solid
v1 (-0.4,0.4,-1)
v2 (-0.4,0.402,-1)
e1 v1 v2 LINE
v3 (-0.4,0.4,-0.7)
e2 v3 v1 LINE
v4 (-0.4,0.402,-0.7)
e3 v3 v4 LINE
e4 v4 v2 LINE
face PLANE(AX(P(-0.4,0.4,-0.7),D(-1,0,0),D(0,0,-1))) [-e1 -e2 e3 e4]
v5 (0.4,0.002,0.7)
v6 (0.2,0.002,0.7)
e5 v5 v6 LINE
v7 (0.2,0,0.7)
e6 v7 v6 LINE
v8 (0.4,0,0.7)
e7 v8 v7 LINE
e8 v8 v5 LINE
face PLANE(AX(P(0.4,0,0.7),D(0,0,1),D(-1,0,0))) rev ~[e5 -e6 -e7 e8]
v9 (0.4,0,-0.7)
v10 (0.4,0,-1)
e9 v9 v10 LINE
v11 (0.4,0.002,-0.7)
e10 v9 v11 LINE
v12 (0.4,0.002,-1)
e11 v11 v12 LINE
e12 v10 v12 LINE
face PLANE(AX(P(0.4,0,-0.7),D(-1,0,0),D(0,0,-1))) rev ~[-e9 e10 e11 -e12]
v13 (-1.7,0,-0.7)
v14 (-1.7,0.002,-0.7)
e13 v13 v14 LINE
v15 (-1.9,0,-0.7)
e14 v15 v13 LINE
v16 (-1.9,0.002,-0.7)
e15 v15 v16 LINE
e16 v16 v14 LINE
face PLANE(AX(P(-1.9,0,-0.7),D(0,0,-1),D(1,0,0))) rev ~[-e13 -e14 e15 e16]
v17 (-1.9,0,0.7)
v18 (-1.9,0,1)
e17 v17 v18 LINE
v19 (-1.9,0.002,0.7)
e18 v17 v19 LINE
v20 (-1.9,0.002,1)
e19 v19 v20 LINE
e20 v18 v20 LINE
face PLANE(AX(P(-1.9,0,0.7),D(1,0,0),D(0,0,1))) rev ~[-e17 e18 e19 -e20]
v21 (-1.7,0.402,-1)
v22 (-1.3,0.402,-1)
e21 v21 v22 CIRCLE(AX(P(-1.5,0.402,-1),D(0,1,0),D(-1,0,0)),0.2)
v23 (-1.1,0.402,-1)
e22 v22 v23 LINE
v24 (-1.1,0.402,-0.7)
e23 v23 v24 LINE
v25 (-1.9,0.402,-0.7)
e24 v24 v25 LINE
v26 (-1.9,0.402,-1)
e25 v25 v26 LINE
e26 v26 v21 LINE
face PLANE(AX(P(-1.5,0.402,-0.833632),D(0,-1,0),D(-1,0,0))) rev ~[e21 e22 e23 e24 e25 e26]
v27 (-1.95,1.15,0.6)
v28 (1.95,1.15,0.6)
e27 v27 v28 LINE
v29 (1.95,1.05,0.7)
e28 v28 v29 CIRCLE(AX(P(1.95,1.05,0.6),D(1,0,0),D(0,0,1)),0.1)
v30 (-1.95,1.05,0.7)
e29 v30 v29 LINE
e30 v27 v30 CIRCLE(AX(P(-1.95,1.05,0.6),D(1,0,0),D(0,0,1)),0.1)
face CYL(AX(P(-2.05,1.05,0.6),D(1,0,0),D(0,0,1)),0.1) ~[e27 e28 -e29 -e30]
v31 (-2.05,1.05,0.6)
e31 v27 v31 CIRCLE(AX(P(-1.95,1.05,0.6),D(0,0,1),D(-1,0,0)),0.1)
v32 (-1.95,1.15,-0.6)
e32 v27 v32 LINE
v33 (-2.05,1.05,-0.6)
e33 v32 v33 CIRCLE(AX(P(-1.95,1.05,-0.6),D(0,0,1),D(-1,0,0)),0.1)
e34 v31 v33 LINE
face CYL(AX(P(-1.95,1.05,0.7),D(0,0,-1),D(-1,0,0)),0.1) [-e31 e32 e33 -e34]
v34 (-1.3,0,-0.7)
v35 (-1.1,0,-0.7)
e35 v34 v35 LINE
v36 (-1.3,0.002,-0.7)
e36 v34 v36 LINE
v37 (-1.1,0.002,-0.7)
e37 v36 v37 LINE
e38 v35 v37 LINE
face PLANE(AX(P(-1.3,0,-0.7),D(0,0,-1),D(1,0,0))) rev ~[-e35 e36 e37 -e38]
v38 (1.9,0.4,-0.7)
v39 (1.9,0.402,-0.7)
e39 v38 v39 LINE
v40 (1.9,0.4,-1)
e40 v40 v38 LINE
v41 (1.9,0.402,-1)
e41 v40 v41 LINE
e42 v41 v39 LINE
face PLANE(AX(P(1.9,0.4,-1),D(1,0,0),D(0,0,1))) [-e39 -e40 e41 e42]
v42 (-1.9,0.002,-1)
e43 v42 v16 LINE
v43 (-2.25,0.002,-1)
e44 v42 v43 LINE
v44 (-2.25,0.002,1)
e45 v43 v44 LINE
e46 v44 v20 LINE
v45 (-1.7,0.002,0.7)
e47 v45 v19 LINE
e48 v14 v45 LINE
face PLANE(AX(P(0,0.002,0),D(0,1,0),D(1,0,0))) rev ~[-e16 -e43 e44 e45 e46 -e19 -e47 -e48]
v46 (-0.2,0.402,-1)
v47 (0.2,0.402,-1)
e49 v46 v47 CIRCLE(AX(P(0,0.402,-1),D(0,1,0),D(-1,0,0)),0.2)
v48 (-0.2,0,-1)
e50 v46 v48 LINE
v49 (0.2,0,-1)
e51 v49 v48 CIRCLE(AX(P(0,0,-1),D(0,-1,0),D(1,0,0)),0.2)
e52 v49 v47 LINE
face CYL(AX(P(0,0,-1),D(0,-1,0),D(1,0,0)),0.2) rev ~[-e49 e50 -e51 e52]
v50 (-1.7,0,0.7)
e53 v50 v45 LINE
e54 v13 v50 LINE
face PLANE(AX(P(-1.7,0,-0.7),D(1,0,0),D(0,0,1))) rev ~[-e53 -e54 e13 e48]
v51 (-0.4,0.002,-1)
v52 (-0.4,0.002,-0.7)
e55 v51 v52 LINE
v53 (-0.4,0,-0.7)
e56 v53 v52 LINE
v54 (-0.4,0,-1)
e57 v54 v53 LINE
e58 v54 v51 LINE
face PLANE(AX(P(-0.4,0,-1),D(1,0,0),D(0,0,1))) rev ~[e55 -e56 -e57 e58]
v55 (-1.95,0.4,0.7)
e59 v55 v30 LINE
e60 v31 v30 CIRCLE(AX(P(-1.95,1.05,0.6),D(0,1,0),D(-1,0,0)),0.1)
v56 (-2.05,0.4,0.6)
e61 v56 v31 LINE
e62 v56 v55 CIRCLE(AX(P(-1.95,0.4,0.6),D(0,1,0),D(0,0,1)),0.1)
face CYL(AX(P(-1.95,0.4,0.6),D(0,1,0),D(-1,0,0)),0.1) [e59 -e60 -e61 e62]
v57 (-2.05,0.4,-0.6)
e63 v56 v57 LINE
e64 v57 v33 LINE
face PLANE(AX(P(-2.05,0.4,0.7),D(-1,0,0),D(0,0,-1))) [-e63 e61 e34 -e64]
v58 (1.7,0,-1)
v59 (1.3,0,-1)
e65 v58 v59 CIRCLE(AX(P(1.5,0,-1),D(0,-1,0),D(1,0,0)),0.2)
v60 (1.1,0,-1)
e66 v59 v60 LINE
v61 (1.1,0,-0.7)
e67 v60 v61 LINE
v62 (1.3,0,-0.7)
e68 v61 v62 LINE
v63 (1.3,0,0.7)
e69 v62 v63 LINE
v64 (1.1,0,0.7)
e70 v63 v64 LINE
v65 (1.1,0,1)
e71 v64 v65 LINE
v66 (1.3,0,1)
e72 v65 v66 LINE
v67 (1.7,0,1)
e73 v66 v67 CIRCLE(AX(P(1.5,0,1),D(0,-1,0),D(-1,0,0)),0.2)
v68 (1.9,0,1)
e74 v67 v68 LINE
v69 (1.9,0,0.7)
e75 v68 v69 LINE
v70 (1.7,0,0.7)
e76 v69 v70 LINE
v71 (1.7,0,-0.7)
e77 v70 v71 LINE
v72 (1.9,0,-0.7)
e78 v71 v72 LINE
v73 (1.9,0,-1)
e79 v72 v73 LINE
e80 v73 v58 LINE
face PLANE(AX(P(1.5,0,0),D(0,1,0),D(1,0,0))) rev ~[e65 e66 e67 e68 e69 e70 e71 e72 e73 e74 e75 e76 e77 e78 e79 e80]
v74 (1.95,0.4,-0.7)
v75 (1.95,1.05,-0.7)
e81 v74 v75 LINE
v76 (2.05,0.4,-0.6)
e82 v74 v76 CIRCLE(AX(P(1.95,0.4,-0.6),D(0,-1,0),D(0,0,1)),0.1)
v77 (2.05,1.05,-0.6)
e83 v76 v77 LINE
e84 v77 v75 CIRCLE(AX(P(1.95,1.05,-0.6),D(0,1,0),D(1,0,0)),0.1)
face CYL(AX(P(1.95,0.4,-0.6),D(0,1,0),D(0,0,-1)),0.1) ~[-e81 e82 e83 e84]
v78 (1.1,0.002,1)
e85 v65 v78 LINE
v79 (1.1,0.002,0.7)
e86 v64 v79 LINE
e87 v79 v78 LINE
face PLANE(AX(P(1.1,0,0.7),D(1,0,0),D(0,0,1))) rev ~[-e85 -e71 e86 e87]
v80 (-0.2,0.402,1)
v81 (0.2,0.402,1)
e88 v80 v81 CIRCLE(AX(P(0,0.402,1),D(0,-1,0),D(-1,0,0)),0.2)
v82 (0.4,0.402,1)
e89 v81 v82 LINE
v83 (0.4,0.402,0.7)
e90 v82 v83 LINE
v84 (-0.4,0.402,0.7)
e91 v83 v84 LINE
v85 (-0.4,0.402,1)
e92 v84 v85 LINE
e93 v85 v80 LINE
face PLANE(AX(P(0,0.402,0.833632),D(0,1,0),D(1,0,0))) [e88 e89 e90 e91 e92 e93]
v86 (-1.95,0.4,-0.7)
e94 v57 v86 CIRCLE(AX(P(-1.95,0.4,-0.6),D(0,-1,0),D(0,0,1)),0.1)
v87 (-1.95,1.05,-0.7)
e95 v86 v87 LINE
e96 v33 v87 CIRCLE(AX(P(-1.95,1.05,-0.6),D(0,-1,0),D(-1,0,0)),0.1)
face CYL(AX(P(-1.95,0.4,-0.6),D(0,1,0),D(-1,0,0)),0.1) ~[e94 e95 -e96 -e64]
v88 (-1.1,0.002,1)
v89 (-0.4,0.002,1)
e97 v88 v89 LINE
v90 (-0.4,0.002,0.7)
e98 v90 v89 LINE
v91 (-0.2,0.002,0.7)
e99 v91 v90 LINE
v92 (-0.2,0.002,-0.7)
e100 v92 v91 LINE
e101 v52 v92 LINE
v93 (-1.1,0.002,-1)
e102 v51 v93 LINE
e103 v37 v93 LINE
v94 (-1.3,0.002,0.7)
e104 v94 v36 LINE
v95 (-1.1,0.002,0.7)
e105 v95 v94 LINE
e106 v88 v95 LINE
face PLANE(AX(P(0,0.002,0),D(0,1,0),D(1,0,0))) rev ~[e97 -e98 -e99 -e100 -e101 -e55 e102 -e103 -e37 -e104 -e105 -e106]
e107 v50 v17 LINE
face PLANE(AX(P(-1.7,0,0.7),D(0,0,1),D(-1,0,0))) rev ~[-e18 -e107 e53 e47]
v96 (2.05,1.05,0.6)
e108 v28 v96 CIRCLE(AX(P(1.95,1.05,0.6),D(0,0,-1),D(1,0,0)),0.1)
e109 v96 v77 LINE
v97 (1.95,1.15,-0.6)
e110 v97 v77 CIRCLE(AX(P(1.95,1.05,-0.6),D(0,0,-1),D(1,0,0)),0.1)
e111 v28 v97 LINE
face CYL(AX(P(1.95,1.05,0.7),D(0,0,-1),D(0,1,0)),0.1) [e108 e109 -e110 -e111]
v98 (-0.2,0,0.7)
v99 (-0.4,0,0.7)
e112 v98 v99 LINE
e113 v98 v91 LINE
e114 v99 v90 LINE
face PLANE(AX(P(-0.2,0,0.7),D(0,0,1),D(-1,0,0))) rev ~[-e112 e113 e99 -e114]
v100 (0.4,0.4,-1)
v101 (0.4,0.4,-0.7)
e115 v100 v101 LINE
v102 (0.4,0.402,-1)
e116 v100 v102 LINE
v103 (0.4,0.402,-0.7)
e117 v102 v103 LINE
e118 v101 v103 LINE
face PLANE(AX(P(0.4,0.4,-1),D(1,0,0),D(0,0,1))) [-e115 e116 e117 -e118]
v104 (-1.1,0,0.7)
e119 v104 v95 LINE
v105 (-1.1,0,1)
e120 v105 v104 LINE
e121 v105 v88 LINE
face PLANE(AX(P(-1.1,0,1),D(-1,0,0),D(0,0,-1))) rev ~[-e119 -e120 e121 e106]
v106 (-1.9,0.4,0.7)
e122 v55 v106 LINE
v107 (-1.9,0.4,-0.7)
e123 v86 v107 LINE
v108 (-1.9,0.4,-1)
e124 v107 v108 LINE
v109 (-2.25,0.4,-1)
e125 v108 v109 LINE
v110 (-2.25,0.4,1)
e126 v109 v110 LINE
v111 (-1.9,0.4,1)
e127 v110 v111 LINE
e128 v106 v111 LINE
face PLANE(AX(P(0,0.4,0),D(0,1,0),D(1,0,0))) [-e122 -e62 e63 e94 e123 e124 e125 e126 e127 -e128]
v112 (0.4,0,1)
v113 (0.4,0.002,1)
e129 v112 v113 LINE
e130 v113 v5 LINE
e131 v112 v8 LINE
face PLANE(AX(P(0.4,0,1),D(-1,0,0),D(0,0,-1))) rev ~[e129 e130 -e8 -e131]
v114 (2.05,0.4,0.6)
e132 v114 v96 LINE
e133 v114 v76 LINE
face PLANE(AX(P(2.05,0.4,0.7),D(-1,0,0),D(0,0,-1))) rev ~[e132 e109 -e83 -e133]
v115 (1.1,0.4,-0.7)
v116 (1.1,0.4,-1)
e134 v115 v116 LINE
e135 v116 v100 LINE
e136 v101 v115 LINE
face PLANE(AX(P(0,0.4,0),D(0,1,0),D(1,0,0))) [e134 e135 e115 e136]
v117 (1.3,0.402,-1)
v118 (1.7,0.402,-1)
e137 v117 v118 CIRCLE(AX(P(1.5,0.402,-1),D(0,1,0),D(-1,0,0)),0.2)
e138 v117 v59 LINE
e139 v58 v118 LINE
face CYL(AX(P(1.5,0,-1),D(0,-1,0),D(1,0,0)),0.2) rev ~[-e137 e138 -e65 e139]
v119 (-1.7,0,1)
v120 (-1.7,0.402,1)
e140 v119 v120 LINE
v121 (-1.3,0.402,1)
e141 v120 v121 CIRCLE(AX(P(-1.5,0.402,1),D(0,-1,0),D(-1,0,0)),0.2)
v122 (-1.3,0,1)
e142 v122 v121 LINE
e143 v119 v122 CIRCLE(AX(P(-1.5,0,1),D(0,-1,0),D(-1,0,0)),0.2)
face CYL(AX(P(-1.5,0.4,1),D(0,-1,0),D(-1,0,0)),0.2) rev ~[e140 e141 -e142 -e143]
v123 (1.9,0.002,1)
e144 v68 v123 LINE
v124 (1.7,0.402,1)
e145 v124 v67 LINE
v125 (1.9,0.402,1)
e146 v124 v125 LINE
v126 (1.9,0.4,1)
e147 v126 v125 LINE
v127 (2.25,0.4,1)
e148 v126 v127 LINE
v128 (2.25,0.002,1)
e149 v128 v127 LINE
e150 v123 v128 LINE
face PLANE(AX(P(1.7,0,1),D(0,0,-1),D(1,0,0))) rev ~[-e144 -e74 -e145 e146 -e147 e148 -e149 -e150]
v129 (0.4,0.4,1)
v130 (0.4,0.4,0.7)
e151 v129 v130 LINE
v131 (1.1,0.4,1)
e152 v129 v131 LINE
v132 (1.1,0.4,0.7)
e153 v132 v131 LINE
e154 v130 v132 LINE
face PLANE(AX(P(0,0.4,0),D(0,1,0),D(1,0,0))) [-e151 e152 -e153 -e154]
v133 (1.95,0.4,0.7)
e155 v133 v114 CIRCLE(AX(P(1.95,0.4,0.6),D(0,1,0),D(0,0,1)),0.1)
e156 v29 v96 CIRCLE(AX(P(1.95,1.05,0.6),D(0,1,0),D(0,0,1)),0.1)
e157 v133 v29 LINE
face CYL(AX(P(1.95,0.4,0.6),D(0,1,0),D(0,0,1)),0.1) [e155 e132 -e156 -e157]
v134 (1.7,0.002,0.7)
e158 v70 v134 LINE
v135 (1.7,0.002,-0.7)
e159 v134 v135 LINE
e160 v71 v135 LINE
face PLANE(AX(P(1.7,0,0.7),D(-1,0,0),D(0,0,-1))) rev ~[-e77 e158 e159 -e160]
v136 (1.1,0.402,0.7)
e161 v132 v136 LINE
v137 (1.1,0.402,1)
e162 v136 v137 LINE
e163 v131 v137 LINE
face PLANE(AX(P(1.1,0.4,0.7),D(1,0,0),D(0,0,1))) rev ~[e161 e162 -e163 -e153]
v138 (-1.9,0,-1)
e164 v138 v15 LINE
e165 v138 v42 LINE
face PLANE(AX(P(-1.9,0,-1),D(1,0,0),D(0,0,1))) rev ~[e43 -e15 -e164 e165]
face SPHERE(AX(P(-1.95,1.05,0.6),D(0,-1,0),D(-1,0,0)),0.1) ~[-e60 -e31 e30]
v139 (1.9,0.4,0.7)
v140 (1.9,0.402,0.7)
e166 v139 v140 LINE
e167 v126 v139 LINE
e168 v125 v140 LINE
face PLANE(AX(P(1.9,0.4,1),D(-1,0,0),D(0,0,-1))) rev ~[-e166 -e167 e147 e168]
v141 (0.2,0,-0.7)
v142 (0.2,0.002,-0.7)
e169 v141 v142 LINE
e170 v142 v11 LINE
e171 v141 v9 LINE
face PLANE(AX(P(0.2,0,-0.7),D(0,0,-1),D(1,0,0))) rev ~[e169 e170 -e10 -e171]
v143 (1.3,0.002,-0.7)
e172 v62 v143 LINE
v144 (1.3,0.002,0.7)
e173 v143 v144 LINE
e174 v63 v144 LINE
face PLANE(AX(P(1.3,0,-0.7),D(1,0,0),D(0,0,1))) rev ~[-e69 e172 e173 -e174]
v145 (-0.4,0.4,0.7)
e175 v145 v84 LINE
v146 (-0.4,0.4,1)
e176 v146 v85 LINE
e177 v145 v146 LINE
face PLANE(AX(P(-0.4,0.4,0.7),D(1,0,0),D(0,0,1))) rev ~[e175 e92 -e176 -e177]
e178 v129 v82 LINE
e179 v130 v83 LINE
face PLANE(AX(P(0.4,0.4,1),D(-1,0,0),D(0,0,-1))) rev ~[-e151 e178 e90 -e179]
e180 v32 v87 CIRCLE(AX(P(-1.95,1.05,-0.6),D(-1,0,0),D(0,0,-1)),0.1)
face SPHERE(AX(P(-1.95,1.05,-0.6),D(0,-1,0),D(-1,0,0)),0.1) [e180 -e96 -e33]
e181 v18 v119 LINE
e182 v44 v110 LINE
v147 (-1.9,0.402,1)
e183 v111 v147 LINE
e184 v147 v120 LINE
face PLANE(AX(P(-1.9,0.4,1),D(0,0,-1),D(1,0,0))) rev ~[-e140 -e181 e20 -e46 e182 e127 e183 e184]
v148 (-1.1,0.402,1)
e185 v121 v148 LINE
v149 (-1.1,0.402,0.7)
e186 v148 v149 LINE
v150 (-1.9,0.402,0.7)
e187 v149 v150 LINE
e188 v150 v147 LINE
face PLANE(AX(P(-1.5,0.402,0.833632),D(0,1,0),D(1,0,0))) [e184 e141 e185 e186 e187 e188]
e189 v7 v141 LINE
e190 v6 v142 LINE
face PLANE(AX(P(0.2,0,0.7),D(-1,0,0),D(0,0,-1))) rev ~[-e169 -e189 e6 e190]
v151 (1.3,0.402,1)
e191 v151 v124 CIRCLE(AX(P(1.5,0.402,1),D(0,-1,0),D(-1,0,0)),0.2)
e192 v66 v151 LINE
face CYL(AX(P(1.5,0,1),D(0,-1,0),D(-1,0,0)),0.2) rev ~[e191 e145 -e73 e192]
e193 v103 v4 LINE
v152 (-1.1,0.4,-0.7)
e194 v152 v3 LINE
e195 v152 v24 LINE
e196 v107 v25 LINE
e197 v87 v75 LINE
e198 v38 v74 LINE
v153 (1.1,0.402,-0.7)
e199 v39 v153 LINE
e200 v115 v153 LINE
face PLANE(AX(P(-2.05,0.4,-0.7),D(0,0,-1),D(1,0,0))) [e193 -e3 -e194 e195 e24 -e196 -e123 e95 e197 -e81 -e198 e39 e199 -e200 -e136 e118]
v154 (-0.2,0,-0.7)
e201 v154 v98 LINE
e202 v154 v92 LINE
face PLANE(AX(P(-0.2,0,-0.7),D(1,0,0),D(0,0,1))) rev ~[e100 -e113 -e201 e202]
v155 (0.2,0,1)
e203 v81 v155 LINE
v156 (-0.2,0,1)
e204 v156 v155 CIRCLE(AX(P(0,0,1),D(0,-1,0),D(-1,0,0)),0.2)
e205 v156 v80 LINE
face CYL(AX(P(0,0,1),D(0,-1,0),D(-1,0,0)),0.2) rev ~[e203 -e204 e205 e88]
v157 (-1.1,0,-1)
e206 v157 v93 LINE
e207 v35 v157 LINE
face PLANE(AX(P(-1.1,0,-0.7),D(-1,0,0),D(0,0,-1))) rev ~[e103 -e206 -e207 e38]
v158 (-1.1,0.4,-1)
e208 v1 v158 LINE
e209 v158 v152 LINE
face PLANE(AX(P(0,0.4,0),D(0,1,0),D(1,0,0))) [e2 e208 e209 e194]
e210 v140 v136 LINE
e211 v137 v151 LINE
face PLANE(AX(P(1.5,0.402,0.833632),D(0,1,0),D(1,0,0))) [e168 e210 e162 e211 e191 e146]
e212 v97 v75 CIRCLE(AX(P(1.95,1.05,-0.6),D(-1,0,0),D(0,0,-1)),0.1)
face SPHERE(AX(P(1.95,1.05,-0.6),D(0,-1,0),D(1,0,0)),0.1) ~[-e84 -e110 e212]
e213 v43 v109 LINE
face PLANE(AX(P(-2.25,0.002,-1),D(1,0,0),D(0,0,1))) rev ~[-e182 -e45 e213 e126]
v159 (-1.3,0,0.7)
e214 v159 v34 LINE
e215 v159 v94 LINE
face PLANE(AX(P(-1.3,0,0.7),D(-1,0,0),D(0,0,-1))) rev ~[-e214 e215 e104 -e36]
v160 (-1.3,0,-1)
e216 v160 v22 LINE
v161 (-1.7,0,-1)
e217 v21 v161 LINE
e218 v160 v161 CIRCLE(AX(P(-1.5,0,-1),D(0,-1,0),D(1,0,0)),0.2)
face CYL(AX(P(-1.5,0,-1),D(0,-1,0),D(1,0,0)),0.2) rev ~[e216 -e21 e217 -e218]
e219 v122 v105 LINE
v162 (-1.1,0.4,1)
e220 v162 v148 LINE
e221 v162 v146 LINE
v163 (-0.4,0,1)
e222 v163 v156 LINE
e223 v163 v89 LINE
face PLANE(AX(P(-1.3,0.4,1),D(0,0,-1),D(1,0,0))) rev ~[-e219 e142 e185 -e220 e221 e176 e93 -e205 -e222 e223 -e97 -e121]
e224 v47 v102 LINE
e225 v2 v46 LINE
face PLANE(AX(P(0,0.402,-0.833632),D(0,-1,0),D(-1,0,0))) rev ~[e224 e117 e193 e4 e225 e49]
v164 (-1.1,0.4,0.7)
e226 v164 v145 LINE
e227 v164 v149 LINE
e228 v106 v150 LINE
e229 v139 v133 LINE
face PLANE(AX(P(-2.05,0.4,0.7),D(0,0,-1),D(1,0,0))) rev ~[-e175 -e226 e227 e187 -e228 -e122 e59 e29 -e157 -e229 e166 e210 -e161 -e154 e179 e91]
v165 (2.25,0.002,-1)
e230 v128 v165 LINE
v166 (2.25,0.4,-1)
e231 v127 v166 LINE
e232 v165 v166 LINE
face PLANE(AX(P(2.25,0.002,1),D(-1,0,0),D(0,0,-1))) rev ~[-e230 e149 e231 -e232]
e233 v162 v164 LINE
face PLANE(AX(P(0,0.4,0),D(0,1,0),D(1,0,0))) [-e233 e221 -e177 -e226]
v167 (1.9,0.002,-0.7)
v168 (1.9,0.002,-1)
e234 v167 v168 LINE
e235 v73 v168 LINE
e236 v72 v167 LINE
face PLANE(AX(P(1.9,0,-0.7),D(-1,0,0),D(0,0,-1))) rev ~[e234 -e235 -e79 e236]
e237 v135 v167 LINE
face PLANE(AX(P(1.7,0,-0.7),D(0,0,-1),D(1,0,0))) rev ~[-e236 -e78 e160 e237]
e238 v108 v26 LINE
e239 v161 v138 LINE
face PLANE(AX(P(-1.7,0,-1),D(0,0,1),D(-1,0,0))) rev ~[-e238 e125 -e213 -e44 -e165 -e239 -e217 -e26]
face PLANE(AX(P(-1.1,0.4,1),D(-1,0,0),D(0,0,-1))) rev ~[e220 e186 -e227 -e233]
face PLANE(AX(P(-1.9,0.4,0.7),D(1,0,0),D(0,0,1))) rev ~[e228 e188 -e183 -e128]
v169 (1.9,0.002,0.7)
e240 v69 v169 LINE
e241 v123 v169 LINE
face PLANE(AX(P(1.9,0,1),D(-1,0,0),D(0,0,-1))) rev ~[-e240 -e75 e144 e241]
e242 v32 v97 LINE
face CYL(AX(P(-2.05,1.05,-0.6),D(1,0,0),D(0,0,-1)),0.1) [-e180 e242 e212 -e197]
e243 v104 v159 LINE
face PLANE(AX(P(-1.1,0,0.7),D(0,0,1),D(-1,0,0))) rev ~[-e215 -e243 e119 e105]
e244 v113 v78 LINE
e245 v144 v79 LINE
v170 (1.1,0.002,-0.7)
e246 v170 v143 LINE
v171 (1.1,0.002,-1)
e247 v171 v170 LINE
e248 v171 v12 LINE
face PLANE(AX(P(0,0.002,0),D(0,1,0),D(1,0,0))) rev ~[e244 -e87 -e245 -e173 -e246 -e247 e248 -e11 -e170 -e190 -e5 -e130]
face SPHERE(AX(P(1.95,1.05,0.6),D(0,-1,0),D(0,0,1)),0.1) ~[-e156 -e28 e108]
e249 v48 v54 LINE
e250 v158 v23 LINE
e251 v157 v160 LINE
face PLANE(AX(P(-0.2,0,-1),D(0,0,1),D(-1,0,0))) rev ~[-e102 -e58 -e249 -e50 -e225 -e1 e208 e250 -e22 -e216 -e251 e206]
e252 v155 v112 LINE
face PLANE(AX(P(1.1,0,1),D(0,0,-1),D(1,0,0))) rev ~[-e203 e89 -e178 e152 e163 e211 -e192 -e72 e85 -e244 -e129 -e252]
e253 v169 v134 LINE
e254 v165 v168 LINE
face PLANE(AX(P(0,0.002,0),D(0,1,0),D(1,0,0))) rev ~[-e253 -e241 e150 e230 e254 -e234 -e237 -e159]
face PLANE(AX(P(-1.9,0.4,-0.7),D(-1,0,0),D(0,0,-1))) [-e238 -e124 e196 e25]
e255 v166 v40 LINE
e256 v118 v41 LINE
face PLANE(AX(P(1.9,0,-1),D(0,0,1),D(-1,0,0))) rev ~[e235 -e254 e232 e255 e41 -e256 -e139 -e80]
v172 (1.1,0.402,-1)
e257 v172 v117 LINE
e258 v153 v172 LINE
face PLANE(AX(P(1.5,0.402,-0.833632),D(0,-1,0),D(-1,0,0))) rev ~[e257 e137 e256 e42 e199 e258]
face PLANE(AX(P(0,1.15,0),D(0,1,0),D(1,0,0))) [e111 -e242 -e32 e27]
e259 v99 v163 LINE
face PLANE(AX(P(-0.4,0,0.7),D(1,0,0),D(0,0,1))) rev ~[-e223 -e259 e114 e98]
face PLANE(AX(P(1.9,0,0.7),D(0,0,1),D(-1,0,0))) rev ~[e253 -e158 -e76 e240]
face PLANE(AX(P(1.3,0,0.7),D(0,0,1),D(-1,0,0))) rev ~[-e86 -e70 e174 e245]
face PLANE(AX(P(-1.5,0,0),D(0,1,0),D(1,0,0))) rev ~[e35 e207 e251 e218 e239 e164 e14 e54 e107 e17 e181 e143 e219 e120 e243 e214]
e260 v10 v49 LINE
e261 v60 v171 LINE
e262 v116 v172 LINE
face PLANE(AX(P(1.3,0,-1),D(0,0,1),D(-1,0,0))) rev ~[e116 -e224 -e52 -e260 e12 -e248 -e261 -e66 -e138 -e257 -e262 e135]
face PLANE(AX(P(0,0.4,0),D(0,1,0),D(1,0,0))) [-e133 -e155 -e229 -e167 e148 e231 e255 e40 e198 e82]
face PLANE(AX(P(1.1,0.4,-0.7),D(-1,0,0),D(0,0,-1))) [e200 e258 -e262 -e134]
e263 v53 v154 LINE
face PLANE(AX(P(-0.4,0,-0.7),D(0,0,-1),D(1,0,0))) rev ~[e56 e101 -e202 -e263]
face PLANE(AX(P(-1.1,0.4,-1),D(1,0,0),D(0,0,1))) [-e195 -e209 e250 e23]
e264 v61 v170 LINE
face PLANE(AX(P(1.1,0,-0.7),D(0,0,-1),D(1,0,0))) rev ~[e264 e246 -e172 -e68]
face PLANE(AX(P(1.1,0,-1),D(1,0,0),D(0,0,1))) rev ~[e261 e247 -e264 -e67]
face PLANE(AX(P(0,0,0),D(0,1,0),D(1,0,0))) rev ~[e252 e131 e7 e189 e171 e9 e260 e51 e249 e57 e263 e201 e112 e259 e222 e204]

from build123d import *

# Parameters (mm, degrees)
EXTRUDE1_START = 0.002
EXTRUDE1_DEPTH = 0.398
EXTRUDE2_REACH = 2.4
EXTRUDE3_DEPTH = 0.002
SKETCH4_W      = 4.1
SKETCH4_H      = 1.4
EXTRUDE4_DEPTH = 0.75
FILLET1_R      = 0.1


with BuildPart() as part:
    # Sketch1 → Extrude1 (new body)
    with BuildSketch(Plane(origin=(0, 0, 0), x_dir=(1, 0, 0), z_dir=(0, 1, 0)).offset(EXTRUDE1_START)):
        with BuildLine():
            Line((1.7, -1), (2.25, -1))
            Line((2.25, -1), (2.25, 1))
            Line((2.25, 1), (1.7, 1))
            ThreePointArc((1.7, 1), (1.5, 0.8), (1.3, 1))
            Line((1.3, 1), (0.2, 1))
            ThreePointArc((0.2, 1), (0, 0.8), (-0.2, 1))
            Line((-0.2, 1), (-1.3, 1))
            ThreePointArc((-1.3, 1), (-1.5, 0.8), (-1.7, 1))
            Line((-1.7, 1), (-2.25, 1))
            Line((-2.25, 1), (-2.25, -1))
            Line((-2.25, -1), (-1.7, -1))
            ThreePointArc((-1.7, -1), (-1.5, -0.8), (-1.3, -1))
            Line((-1.3, -1), (-0.2, -1))
            ThreePointArc((-0.2, -1), (0, -0.8), (0.2, -1))
            Line((0.2, -1), (1.3, -1))
            ThreePointArc((1.3, -1), (1.5, -0.8), (1.7, -1))
        make_face()
    extrude(amount=EXTRUDE1_DEPTH)

    # Sketch2 → Extrude2 (add, up to next)
    with BuildSketch(Plane(origin=(0, 0, 0), x_dir=(1, 0, 0), z_dir=(0, 1, 0)), mode=Mode.PRIVATE) as extrude2_sk1:
        with BuildLine():
            Line((-1.9, -1), (-1.7, -1))
            ThreePointArc((-1.7, -1), (-1.5, -0.8), (-1.3, -1))
            Line((-1.3, -1), (-1.1, -1))
            Line((-1.1, -1), (-1.1, -0.7))
            Line((-1.1, -0.7), (-1.3, -0.7))
            Line((-1.3, -0.7), (-1.3, 0.7))
            Line((-1.3, 0.7), (-1.1, 0.7))
            Line((-1.1, 0.7), (-1.1, 1))
            Line((-1.1, 1), (-1.3, 1))
            ThreePointArc((-1.3, 1), (-1.5, 0.8), (-1.7, 1))
            Line((-1.7, 1), (-1.9, 1))
            Line((-1.9, 1), (-1.9, 0.7))
            Line((-1.9, 0.7), (-1.7, 0.7))
            Line((-1.7, 0.7), (-1.7, -0.7))
            Line((-1.7, -0.7), (-1.9, -0.7))
            Line((-1.9, -0.7), (-1.9, -1))
        make_face()
    extrude2_tool1 = extrude(extrude2_sk1.sketch, amount=EXTRUDE2_REACH, mode=Mode.PRIVATE) - part.part
    add(extrude2_tool1.solids().sort_by_distance((-1.5, 0, 0))[0])
    # Sketch2 → Extrude2 (add, up to next)
    with BuildSketch(Plane(origin=(0, 0, 0), x_dir=(1, 0, 0), z_dir=(0, 1, 0)), mode=Mode.PRIVATE) as extrude2_sk2:
        with BuildLine():
            Line((-0.4, -1), (-0.2, -1))
            ThreePointArc((-0.2, -1), (0, -0.8), (0.2, -1))
            Line((0.2, -1), (0.4, -1))
            Line((0.4, -1), (0.4, -0.7))
            Line((0.4, -0.7), (0.2, -0.7))
            Line((0.2, -0.7), (0.2, 0.7))
            Line((0.2, 0.7), (0.4, 0.7))
            Line((0.4, 0.7), (0.4, 1))
            Line((0.4, 1), (0.2, 1))
            ThreePointArc((0.2, 1), (0, 0.8), (-0.2, 1))
            Line((-0.2, 1), (-0.4, 1))
            Line((-0.4, 1), (-0.4, 0.7))
            Line((-0.4, 0.7), (-0.2, 0.7))
            Line((-0.2, 0.7), (-0.2, -0.7))
            Line((-0.2, -0.7), (-0.4, -0.7))
            Line((-0.4, -0.7), (-0.4, -1))
        make_face()
    extrude2_tool2 = extrude(extrude2_sk2.sketch, amount=EXTRUDE2_REACH, mode=Mode.PRIVATE) - part.part
    add(extrude2_tool2.solids().sort_by_distance((0, 0, 0))[0])
    # Sketch2 → Extrude2 (add, up to next)
    with BuildSketch(Plane(origin=(0, 0, 0), x_dir=(1, 0, 0), z_dir=(0, 1, 0)), mode=Mode.PRIVATE) as extrude2_sk3:
        with BuildLine():
            Line((1.1, -1), (1.3, -1))
            ThreePointArc((1.3, -1), (1.5, -0.8), (1.7, -1))
            Line((1.7, -1), (1.9, -1))
            Line((1.9, -1), (1.9, -0.7))
            Line((1.9, -0.7), (1.7, -0.7))
            Line((1.7, -0.7), (1.7, 0.7))
            Line((1.7, 0.7), (1.9, 0.7))
            Line((1.9, 0.7), (1.9, 1))
            Line((1.9, 1), (1.7, 1))
            ThreePointArc((1.7, 1), (1.5, 0.8), (1.3, 1))
            Line((1.3, 1), (1.1, 1))
            Line((1.1, 1), (1.1, 0.7))
            Line((1.1, 0.7), (1.3, 0.7))
            Line((1.3, 0.7), (1.3, -0.7))
            Line((1.3, -0.7), (1.1, -0.7))
            Line((1.1, -0.7), (1.1, -1))
        make_face()
    extrude2_tool3 = extrude(extrude2_sk3.sketch, amount=EXTRUDE2_REACH, mode=Mode.PRIVATE) - part.part
    add(extrude2_tool3.solids().sort_by_distance((1.5, 0, 0))[0])

    # Sketch3 → Extrude3 (add)
    with BuildSketch(Plane(origin=(0, 0.4, 0), x_dir=(1, 0, 0), z_dir=(0, 1, 0))):
        with BuildLine():
            Line((-1.9, -1), (-1.7, -1))
            ThreePointArc((-1.7, -1), (-1.5, -0.8), (-1.3, -1))
            Line((-1.3, -1), (-1.1, -1))
            Line((-1.1, -1), (-1.1, -0.7))
            Line((-1.1, -0.7), (-1.9, -0.7))
            Line((-1.9, -0.7), (-1.9, -1))
        make_face()
        with BuildLine():
            Line((-0.4, -1), (-0.2, -1))
            ThreePointArc((-0.2, -1), (0, -0.8), (0.2, -1))
            Line((0.2, -1), (0.4, -1))
            Line((0.4, -1), (0.4, -0.7))
            Line((0.4, -0.7), (-0.4, -0.7))
            Line((-0.4, -0.7), (-0.4, -1))
        make_face()
        with BuildLine():
            Line((1.1, -1), (1.3, -1))
            ThreePointArc((1.3, -1), (1.5, -0.8), (1.7, -1))
            Line((1.7, -1), (1.9, -1))
            Line((1.9, -1), (1.9, -0.7))
            Line((1.9, -0.7), (1.1, -0.7))
            Line((1.1, -0.7), (1.1, -1))
        make_face()
        with BuildLine():
            Line((-1.3, 1), (-1.1, 1))
            Line((-1.1, 1), (-1.1, 0.7))
            Line((-1.1, 0.7), (-1.9, 0.7))
            Line((-1.9, 0.7), (-1.9, 1))
            Line((-1.9, 1), (-1.7, 1))
            ThreePointArc((-1.7, 1), (-1.5, 0.8), (-1.3, 1))
        make_face()
        with BuildLine():
            Line((0.2, 1), (0.4, 1))
            Line((0.4, 1), (0.4, 0.7))
            Line((0.4, 0.7), (-0.4, 0.7))
            Line((-0.4, 0.7), (-0.4, 1))
            Line((-0.4, 1), (-0.2, 1))
            ThreePointArc((-0.2, 1), (0, 0.8), (0.2, 1))
        make_face()
        with BuildLine():
            Line((1.7, 1), (1.9, 1))
            Line((1.9, 1), (1.9, 0.7))
            Line((1.9, 0.7), (1.1, 0.7))
            Line((1.1, 0.7), (1.1, 1))
            Line((1.1, 1), (1.3, 1))
            ThreePointArc((1.3, 1), (1.5, 0.8), (1.7, 1))
        make_face()
    extrude(amount=EXTRUDE3_DEPTH)

    # Sketch4 → Extrude4 (add)
    with BuildSketch(Plane(origin=(0, 0.4, 0), x_dir=(1, 0, 0), z_dir=(0, 1, 0))):
        Rectangle(SKETCH4_W, SKETCH4_H)
    extrude(amount=EXTRUDE4_DEPTH)

    # Fillet1
    fillet1_edges = [part.edges().sort_by_distance(p)[0] for p in [
        (2.05, 0.775, -0.7),
        (-2.05, 0.775, 0.7),
        (-2.05, 0.775, -0.7),
        (2.05, 0.775, 0.7),
        (-2.05, 1.15, 0),
        (0, 1.15, 0.7),
        (2.05, 1.15, 0),
        (0, 1.15, -0.7),
    ]]
    fillet(fillet1_edges, radius=FILLET1_R)


solid = part.part
